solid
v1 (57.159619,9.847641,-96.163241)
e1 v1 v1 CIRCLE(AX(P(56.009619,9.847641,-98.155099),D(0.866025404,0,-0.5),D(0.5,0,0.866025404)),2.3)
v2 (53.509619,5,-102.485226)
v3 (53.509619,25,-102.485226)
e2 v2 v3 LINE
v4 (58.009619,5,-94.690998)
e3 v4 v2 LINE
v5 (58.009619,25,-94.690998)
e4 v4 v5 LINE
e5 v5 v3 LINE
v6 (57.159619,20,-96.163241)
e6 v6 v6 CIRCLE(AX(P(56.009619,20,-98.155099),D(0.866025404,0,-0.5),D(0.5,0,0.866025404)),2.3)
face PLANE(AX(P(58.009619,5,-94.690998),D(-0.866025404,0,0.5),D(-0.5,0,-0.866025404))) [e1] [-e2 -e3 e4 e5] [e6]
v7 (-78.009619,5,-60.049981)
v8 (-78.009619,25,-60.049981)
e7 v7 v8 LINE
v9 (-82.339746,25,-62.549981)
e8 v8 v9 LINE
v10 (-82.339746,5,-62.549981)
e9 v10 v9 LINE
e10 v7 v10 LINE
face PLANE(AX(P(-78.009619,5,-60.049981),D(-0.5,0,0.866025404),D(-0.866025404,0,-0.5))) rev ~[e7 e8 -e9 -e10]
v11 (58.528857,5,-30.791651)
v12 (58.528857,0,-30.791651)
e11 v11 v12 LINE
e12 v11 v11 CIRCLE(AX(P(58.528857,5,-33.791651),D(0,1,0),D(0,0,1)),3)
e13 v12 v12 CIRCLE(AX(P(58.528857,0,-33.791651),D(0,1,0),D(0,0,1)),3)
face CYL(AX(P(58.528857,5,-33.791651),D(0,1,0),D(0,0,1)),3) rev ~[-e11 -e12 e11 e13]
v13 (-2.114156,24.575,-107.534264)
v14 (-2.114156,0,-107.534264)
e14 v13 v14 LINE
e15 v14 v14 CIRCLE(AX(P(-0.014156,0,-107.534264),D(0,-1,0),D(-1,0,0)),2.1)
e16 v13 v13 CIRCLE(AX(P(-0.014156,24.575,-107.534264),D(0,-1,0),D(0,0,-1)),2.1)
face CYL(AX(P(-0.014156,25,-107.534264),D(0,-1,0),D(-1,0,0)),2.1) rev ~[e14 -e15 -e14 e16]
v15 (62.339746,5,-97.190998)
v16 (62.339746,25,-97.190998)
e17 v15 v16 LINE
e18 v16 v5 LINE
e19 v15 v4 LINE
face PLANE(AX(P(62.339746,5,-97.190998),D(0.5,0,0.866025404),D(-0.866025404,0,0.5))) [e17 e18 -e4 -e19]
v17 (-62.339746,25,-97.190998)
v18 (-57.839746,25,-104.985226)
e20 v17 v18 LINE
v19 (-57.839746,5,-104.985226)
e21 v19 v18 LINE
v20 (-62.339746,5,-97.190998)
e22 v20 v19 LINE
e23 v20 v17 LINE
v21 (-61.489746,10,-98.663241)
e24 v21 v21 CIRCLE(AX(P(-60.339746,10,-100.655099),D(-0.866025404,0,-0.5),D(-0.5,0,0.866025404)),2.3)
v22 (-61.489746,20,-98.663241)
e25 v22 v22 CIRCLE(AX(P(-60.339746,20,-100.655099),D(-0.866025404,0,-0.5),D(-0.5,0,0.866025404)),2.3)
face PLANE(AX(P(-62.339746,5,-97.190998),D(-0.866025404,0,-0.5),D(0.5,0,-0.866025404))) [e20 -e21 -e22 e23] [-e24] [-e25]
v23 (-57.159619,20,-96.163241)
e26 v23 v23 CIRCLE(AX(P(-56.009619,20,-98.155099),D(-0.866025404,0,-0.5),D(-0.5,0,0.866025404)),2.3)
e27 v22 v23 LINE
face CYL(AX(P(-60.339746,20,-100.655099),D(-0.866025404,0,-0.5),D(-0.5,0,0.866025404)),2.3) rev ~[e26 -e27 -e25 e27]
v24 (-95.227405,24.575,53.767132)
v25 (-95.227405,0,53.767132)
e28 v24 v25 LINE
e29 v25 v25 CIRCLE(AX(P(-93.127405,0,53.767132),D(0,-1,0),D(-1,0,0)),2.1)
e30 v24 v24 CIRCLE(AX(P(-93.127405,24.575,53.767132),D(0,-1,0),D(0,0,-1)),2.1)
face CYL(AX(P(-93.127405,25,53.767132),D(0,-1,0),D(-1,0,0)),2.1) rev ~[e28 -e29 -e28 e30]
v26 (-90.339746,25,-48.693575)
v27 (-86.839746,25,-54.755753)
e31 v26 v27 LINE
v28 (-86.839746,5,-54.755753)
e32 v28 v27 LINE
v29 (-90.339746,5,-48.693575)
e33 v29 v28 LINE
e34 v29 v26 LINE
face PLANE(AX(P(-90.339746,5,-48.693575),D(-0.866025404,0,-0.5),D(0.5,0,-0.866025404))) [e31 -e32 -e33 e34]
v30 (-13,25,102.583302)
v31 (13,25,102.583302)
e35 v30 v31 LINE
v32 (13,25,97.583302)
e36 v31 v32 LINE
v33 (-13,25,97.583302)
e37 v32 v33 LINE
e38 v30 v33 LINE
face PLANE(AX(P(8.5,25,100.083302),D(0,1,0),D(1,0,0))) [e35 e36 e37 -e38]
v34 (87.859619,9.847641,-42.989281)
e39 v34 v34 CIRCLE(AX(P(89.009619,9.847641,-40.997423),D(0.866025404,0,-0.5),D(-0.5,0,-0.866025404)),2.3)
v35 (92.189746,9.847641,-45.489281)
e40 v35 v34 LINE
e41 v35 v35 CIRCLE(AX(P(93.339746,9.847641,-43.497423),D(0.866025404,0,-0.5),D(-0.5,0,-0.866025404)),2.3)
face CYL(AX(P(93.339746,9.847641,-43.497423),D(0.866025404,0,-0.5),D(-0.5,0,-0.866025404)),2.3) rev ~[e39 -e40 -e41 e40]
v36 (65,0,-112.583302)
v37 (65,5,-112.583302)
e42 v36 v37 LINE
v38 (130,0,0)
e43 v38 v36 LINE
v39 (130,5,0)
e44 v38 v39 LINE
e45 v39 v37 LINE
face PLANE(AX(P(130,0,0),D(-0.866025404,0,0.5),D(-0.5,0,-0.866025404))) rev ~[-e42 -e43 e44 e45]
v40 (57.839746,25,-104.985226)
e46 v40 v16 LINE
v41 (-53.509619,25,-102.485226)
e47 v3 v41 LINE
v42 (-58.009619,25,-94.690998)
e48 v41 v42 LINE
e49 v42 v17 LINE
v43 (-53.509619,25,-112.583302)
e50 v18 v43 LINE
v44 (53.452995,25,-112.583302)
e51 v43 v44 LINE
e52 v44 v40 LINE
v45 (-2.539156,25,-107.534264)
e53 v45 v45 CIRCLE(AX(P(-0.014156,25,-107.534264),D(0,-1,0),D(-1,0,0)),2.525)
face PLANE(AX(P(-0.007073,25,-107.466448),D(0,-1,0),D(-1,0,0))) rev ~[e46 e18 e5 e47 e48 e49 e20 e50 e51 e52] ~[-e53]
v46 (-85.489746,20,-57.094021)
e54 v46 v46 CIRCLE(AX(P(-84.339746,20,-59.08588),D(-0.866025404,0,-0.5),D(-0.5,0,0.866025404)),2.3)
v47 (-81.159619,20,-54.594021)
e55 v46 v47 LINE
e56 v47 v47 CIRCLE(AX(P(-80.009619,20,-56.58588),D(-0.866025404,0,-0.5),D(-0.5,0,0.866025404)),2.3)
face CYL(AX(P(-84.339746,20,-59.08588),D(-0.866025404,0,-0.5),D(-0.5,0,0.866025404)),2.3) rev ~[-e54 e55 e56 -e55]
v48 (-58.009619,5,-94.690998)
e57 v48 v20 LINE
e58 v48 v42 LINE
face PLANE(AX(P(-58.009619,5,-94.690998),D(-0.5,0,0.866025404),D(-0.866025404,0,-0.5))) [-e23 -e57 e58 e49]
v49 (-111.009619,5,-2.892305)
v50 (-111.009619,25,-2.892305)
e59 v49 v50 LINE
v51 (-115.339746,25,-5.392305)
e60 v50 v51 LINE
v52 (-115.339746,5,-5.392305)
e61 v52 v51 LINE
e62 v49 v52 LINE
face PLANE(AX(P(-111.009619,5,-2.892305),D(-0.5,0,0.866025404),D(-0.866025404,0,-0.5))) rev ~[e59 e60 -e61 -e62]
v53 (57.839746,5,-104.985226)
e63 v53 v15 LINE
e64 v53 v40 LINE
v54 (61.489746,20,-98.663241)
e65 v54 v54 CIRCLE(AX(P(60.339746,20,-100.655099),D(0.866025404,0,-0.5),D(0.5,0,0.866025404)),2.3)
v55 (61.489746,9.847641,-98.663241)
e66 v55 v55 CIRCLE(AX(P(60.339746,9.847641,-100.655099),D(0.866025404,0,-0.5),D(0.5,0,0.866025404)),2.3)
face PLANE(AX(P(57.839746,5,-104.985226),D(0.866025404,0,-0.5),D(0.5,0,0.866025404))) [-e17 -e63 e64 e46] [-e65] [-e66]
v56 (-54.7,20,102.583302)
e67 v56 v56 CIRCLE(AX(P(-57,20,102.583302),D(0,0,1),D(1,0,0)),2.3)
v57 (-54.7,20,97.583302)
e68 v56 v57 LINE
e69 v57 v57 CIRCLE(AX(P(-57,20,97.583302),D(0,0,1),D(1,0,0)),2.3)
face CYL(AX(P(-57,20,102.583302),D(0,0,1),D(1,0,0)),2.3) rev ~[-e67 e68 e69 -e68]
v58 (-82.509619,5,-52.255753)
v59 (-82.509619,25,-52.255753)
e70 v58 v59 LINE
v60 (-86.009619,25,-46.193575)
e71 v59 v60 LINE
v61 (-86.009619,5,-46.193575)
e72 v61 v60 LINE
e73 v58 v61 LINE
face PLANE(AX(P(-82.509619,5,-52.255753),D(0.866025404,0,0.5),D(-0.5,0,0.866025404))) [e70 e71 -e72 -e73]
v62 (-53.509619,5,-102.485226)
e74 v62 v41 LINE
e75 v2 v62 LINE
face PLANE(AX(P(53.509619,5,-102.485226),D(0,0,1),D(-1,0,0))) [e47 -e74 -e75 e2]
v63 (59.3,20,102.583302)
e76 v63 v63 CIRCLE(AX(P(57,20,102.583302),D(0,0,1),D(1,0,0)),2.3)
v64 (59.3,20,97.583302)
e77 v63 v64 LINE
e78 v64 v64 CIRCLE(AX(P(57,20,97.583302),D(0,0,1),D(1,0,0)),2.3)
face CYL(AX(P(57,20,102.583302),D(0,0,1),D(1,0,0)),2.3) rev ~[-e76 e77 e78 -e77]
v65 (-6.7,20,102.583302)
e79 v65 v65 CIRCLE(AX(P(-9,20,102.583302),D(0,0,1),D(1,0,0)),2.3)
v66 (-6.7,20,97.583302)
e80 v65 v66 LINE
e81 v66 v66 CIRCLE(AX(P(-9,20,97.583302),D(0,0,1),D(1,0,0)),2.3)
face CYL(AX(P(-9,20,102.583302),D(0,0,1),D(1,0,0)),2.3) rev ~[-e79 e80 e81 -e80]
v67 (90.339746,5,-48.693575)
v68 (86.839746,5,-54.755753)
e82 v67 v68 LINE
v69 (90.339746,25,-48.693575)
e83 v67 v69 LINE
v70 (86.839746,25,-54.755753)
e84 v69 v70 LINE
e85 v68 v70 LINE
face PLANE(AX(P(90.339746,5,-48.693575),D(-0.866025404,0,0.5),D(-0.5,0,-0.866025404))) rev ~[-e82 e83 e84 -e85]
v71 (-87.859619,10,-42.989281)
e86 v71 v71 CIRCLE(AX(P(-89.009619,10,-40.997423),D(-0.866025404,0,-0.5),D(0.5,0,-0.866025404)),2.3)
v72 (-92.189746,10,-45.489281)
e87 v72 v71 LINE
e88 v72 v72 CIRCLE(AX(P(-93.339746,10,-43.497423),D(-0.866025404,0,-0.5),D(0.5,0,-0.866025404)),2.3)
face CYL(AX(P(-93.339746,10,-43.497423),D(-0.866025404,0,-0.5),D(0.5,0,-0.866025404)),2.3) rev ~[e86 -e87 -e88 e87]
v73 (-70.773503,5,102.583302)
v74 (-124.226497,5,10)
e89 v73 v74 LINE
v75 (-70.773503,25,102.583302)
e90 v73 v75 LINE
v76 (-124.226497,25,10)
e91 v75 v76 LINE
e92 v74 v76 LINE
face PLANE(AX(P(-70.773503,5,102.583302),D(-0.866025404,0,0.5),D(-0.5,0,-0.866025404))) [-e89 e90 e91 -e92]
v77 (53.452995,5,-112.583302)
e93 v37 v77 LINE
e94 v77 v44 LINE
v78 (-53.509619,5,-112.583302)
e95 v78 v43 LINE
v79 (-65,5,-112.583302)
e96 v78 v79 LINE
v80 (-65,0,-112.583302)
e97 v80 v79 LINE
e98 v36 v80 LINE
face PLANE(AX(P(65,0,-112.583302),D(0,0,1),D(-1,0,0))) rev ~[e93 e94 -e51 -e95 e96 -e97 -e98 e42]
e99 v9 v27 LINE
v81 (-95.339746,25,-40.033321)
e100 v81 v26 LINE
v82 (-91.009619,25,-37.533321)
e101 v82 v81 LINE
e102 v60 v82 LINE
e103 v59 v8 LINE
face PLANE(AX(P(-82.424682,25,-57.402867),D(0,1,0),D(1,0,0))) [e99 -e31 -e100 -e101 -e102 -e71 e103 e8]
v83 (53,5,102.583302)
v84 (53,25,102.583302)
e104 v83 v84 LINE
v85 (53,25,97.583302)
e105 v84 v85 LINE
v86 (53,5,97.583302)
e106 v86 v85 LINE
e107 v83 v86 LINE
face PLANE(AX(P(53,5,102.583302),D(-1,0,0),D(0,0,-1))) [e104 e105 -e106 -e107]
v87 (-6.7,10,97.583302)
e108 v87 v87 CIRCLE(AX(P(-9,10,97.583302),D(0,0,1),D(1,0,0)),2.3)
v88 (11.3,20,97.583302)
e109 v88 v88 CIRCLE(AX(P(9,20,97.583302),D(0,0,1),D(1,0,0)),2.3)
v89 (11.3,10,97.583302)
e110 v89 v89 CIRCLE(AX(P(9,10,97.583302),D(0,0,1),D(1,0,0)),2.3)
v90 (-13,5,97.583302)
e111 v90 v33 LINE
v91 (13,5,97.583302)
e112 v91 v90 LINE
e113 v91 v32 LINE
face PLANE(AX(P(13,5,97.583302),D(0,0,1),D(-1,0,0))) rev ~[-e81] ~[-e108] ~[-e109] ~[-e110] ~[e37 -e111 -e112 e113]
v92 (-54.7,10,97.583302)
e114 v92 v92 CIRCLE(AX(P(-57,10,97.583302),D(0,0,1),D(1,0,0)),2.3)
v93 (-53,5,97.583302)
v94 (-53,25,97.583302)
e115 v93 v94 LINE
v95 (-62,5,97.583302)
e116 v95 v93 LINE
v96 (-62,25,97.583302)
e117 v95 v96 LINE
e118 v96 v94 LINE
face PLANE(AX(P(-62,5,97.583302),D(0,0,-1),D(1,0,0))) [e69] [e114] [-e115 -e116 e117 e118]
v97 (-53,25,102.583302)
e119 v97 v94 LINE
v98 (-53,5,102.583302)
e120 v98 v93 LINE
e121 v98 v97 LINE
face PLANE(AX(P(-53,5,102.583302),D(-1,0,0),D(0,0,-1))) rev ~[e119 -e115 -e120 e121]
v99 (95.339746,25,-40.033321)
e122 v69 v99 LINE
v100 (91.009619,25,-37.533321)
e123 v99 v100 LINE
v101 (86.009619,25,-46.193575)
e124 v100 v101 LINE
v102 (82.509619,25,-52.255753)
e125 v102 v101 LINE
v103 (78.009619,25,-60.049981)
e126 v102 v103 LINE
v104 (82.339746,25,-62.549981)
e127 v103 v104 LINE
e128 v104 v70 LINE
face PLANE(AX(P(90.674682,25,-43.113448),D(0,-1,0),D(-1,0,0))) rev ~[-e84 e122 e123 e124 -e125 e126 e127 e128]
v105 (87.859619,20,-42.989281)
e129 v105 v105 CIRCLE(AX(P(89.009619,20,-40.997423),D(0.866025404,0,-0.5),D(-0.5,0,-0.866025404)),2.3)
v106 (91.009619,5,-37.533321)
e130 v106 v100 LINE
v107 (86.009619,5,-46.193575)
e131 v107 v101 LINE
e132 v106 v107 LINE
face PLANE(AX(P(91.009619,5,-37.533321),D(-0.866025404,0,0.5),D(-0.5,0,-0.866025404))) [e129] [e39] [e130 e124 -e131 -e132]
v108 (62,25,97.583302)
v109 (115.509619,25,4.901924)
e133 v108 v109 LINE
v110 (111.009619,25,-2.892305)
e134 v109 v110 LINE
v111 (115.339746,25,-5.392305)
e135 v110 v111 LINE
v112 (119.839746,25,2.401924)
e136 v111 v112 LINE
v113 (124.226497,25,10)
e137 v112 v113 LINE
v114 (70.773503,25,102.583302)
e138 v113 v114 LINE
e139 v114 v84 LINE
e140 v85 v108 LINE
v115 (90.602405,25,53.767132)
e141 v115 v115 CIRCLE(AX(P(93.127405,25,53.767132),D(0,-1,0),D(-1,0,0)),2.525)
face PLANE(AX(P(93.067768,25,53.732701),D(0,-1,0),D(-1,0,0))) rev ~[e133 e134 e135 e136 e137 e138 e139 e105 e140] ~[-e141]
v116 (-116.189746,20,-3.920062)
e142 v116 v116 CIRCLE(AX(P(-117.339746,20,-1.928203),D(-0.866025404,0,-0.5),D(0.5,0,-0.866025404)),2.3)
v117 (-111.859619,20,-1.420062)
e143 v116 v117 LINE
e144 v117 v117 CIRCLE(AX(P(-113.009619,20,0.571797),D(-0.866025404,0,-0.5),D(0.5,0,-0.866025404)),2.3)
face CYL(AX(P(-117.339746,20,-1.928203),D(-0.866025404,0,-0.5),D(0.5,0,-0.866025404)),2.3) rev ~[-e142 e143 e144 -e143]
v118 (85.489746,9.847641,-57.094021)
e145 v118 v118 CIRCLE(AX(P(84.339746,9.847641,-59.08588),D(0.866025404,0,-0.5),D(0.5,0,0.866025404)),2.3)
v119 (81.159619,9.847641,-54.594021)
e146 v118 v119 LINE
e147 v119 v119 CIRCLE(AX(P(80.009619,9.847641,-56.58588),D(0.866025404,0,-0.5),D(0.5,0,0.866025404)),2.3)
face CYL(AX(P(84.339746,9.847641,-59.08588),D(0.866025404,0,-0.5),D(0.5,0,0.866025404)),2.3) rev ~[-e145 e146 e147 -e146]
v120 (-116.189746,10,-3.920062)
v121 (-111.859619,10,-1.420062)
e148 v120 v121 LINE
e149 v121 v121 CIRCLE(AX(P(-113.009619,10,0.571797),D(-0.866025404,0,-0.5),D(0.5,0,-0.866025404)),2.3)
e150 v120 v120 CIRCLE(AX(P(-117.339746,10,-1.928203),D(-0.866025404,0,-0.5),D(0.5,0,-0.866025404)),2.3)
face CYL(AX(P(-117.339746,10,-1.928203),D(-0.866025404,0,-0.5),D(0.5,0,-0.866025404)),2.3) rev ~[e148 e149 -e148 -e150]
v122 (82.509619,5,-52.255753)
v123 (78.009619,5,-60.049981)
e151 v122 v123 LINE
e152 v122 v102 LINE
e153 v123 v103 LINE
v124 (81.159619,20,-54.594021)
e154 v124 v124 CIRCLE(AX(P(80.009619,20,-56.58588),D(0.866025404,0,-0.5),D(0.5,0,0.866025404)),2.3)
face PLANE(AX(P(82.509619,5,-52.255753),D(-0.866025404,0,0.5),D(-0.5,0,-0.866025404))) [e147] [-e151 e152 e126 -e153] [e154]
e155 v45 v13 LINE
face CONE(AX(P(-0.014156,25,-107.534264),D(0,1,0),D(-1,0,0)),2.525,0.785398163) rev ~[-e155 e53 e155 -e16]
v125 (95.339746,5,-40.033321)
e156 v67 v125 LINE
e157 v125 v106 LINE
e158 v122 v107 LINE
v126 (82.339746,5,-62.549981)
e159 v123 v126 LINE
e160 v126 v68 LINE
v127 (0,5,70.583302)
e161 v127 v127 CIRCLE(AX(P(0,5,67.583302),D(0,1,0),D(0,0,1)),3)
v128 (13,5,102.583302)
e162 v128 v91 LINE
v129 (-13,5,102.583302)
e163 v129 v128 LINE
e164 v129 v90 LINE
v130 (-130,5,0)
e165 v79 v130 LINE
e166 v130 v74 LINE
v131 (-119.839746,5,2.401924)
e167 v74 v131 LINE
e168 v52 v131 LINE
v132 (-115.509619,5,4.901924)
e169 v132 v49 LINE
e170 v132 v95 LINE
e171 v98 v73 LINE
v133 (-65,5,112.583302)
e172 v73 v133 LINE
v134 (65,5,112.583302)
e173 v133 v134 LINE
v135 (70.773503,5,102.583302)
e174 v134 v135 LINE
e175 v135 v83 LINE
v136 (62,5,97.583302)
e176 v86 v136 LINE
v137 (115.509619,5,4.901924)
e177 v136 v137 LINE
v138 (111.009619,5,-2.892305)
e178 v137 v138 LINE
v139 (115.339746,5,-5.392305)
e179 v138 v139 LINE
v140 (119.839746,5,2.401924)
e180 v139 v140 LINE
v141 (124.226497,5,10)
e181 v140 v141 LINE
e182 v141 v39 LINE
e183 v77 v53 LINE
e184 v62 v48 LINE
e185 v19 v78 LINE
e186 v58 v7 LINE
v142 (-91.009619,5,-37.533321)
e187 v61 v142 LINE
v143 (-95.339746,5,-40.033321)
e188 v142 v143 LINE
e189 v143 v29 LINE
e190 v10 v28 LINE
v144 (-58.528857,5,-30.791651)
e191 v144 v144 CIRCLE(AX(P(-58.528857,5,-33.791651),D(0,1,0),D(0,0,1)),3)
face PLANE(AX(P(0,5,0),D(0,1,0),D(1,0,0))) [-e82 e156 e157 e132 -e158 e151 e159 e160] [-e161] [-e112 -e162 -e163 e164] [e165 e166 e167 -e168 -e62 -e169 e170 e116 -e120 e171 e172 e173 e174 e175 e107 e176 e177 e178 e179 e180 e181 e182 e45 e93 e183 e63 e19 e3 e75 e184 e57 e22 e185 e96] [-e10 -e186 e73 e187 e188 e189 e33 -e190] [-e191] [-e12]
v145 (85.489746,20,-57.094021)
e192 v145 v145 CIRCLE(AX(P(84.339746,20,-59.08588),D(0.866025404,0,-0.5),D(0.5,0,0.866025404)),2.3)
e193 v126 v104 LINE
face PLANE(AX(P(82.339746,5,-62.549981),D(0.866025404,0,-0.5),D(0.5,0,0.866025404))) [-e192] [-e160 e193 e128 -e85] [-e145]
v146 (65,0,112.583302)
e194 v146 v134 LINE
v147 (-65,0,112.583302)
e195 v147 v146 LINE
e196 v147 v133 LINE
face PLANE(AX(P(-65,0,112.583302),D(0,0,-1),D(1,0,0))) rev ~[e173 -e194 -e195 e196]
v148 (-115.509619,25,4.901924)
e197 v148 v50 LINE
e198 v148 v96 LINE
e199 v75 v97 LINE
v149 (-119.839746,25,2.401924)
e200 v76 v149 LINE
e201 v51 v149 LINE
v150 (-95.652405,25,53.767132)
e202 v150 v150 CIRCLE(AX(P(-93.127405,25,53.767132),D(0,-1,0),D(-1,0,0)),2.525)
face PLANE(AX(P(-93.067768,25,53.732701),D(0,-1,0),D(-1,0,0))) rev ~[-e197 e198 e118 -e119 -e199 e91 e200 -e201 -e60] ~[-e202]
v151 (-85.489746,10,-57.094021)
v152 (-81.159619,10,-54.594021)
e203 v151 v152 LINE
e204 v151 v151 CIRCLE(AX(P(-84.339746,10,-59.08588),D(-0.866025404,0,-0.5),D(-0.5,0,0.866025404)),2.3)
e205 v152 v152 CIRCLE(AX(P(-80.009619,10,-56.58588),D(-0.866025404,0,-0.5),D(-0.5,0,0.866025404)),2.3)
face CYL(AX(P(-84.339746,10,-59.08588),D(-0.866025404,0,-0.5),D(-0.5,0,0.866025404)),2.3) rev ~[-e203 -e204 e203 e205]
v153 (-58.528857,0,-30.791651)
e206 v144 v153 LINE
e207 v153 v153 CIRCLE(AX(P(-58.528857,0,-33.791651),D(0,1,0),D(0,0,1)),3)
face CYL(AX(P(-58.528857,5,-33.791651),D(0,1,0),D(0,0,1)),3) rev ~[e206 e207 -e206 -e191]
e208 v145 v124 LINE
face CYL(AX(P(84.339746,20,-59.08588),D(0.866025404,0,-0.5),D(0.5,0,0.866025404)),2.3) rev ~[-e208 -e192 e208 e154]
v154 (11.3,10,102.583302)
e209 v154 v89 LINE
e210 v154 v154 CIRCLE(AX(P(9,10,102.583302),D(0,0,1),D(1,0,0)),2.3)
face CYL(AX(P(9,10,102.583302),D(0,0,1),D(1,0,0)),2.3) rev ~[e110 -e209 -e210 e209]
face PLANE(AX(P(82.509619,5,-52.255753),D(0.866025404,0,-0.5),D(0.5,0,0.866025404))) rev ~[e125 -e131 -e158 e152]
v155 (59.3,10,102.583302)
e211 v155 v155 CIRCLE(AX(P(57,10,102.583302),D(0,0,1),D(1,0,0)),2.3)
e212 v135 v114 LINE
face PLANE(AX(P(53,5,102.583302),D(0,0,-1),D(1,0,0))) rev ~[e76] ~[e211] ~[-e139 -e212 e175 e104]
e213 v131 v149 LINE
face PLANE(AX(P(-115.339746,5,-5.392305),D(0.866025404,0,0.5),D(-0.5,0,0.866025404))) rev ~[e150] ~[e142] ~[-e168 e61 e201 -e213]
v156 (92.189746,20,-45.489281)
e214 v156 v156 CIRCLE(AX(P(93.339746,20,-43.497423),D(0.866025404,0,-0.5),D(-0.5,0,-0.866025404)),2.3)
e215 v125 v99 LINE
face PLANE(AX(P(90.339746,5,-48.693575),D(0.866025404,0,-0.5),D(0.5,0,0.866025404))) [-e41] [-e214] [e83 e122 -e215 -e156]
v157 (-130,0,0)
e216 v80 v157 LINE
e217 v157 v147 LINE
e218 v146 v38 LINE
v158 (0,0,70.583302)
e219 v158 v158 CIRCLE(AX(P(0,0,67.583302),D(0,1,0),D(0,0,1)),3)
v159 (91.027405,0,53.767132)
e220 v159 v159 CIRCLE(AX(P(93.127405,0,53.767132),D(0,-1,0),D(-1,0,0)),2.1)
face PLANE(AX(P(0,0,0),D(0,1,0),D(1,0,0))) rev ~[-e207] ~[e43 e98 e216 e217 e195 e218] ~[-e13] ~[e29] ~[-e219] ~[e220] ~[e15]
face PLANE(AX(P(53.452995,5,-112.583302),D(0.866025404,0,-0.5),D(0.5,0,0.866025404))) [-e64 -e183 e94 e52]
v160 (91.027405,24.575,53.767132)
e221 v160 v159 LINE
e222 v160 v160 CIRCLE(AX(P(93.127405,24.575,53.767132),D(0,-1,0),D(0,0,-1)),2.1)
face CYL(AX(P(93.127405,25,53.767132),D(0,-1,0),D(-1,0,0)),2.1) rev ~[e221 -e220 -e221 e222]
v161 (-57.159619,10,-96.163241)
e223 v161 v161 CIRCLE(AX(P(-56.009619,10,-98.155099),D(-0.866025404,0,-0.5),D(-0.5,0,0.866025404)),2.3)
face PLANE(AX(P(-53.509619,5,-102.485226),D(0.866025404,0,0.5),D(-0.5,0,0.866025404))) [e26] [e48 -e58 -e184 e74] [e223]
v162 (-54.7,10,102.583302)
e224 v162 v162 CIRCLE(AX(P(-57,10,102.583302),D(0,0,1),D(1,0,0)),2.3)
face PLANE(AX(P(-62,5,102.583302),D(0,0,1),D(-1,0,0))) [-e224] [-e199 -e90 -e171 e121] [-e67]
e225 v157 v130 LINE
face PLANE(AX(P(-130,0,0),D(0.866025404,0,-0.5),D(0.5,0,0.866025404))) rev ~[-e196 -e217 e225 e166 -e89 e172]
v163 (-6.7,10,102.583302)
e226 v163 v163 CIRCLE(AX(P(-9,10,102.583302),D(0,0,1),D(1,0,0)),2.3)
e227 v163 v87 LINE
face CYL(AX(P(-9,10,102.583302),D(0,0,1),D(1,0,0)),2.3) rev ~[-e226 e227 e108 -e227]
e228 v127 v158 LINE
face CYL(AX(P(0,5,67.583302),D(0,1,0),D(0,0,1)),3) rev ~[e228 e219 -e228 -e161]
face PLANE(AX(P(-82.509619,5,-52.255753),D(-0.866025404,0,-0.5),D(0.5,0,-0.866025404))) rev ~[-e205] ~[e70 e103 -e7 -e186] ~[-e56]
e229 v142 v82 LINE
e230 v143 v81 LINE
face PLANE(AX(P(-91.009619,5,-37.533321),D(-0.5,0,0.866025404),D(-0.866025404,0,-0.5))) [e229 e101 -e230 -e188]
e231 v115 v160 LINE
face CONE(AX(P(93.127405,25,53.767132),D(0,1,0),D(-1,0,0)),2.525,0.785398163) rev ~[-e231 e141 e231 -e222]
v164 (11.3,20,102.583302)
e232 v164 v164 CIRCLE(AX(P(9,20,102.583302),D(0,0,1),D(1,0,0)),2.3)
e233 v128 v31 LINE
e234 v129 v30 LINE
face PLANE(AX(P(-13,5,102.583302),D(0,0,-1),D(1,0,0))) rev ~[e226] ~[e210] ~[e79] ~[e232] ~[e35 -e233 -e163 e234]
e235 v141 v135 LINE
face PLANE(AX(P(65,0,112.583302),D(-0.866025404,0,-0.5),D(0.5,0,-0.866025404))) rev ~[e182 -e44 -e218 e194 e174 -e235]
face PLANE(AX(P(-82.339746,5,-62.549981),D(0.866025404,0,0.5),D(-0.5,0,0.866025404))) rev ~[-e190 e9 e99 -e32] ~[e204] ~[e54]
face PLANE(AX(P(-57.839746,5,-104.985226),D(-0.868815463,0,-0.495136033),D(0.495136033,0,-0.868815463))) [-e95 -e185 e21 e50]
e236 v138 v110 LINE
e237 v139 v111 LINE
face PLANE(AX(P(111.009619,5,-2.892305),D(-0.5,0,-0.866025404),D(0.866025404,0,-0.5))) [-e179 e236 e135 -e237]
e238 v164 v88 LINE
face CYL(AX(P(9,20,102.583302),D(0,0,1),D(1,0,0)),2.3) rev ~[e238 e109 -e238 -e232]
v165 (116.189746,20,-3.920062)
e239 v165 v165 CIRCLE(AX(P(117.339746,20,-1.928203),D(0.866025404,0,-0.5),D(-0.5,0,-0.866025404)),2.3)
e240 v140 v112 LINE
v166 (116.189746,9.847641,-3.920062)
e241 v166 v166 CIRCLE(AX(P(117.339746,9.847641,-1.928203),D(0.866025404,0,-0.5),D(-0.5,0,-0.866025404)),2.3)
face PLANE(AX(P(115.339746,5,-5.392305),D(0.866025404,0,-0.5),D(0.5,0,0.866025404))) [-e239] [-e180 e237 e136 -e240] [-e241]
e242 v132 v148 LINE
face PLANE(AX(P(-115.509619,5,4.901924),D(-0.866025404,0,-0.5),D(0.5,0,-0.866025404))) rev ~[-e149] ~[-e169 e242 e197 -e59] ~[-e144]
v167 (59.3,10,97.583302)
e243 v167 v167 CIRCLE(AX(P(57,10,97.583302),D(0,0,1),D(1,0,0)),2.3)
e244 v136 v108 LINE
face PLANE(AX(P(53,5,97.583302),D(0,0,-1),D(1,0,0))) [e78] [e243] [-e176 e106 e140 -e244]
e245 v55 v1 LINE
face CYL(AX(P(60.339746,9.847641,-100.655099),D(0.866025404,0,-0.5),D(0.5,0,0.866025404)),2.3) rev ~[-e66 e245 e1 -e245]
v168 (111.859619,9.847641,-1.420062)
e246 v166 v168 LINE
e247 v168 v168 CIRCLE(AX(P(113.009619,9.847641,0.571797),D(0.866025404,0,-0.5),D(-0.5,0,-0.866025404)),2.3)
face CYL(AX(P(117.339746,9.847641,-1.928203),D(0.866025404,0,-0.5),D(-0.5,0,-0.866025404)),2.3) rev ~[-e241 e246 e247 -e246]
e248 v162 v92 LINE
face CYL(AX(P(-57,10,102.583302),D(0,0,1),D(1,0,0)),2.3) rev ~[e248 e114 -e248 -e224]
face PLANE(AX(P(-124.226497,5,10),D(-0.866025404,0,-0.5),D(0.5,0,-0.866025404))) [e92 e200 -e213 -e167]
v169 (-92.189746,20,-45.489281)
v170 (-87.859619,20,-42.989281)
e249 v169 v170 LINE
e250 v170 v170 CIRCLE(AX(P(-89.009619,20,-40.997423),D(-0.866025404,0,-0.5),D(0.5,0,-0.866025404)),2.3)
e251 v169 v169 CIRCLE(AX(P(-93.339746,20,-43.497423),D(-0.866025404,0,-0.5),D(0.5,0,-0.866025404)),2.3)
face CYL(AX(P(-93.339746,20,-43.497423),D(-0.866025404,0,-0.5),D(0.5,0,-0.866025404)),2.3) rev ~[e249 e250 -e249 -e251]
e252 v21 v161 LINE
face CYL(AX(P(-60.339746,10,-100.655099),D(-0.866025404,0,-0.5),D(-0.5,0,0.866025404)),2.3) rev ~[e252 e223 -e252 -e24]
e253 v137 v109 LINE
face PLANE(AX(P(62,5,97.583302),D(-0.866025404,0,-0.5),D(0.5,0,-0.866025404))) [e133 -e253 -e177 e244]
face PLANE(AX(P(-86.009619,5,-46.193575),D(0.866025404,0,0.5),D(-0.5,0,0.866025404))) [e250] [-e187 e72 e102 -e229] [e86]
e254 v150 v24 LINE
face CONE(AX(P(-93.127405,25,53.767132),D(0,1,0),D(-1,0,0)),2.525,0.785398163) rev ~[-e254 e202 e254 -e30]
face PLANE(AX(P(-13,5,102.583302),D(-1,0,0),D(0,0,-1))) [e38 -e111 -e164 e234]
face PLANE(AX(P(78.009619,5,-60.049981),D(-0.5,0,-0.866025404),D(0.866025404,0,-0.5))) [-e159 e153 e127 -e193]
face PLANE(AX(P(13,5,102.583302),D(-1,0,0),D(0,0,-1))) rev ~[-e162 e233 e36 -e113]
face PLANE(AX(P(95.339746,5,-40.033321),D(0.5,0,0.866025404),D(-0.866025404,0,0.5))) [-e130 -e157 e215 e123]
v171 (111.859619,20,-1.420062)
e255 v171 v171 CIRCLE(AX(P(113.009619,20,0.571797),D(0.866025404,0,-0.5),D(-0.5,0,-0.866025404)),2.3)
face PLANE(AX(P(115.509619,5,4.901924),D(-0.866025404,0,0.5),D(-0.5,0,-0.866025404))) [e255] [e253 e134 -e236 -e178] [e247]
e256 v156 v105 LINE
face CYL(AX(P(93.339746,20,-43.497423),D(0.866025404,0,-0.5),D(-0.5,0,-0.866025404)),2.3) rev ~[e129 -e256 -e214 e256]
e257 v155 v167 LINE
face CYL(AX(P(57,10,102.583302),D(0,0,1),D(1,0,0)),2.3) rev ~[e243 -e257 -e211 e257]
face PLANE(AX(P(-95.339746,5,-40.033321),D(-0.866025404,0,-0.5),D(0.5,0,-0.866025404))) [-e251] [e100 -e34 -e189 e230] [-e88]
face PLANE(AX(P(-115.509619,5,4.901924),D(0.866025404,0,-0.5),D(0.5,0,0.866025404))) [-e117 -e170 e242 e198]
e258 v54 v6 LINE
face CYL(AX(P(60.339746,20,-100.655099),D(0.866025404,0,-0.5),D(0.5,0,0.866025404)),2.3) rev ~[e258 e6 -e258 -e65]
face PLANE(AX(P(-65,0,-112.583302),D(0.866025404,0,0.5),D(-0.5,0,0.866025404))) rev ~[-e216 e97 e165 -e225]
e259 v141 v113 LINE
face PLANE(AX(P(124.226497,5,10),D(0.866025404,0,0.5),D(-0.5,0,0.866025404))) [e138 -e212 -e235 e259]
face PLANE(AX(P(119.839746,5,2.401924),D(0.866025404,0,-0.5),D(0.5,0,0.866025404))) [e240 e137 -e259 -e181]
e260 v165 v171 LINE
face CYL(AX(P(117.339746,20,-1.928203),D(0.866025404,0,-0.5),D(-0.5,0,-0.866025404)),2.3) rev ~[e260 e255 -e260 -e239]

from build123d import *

# Parameters (mm, degrees)
EXTRUDE_5_DEPTH              = 5
SKETCH_7_W                   = 9
SKETCH_7_H                   = 5
SKETCH_7_W_2                 = 8
EXTRUDE_6_DEPTH              = 20
EXTRUDE_7_DEPTH              = 20
SKETCH_13_R                  = 2.3
CUT_EXTRUDE_2_DEPTH          = 20
SKETCH_9_R                   = 2.3
CUT_EXTRUDE_3_DEPTH          = 20
SKETCH_11_R                  = 2.3
CUT_EXTRUDE_4_DEPTH          = 20
SKETCH_16_R                  = 3
CUT_EXTRUDE_5_DEPTH          = 5
HOLE_WIZARD_M5_1_D           = 4.2
HOLE_WIZARD_M5_1_CSINK_D     = 5.05
HOLE_WIZARD_M5_1_CSINK_ANGLE = 90


with BuildPart() as part:
    # 草图6 → 凸台-拉伸5 (new body)
    with BuildSketch(Plane(origin=(0, 0, 0), x_dir=(1, 0, 0), z_dir=(0, 1, 0))):
        Polygon((130, 0), (65, 112.583302492), (-65, 112.583302492), (-130, 0), (-65, -112.583302492), (65, -112.583302492), align=None)
    extrude(amount=EXTRUDE_5_DEPTH)

    # 草图7 → 凸台-拉伸6 (add)
    with BuildSketch(Plane(origin=(0, 5, 0), x_dir=(1, 0, 0), z_dir=(0, 1, 0))):
        with Locations((57.5, -100.083302492)):
            Rectangle(SKETCH_7_W, SKETCH_7_H)
        with Locations((8.5, -100.083302492)):
            Rectangle(SKETCH_7_W, SKETCH_7_H)
        with Locations((0, -100.083302492)):
            Rectangle(SKETCH_7_W_2, SKETCH_7_H)
        with Locations((-8.5, -100.083302492)):
            Rectangle(SKETCH_7_W, SKETCH_7_H)
        with Locations((-57.5, -100.083302492)):
            Rectangle(SKETCH_7_W, SKETCH_7_H)
        Polygon((115.339745962, 5.392304845), (119.839745962, -2.401923789), (115.509618943, -4.901923789), (111.009618943, 2.892304845), align=None)
        Polygon((95.339745962, 40.033320997), (91.009618943, 37.533320997), (86.009618943, 46.193575035), (90.339745962, 48.693575035), align=None)
        Polygon((86.839745962, 54.755752861), (82.509618943, 52.255752861), (86.009618943, 46.193575035), (90.339745962, 48.693575035), align=None)
        Polygon((82.339745962, 62.549981495), (86.839745962, 54.755752861), (82.509618943, 52.255752861), (78.009618943, 60.049981495), align=None)
        Polygon((62.339745962, 97.190997647), (58.009618943, 94.690997647), (53.509618943, 102.485226281), (57.839745962, 104.985226281), align=None)
        Polygon((-57.839745962, 104.985226281), (-53.509618943, 102.485226281), (-58.009618943, 94.690997647), (-62.339745962, 97.190997647), align=None)
        Polygon((-82.339745962, 62.549981495), (-86.839745962, 54.755752861), (-82.509618943, 52.255752861), (-78.009618943, 60.049981495), align=None)
        Polygon((-86.839745962, 54.755752861), (-82.509618943, 52.255752861), (-86.009618943, 46.193575035), (-90.339745962, 48.693575035), align=None)
        Polygon((-90.339745962, 48.693575035), (-86.009618943, 46.193575035), (-91.009618943, 37.533320997), (-95.339745962, 40.033320997), align=None)
        Polygon((-115.339745962, 5.392304845), (-119.839745962, -2.401923789), (-115.509618943, -4.901923789), (-111.009618943, 2.892304845), align=None)
    extrude(amount=EXTRUDE_6_DEPTH)

    # 草图10 → 凸台-拉伸7 (add)
    with BuildSketch(Plane(origin=(0, 5, 0), x_dir=(1, 0, 0), z_dir=(0, 1, 0))):
        Polygon((-115.509618943, -4.901923789), (-62, -97.583302492), (-62, -102.583302492), (-70.773502692, -102.583302492), (-124.226497308, -10), (-119.839745962, -2.401923789), align=None)
        Polygon((62, -97.583302492), (115.509618943, -4.901923789), (119.839745962, -2.401923789), (124.226497308, -10), (70.773502692, -102.583302492), (62, -102.583302492), align=None)
        Polygon((57.839745962, 104.985226281), (53.509618943, 102.485226281), (-53.509618943, 102.485226281), (-57.839745962, 104.985226281), (-53.509618943, 112.583302492), (53.452994616, 112.583302492), align=None)
    extrude(amount=EXTRUDE_7_DEPTH)

    # 草图13 → 切除-拉伸2 (cut)
    with BuildSketch(Plane(origin=(-88.839745962, 0, -51.291651246), x_dir=(-0.5000000000000006, 0, 0.8660254037844384), z_dir=(-0.8660254037844384, 0, -0.5000000000000006))):
        with Locations((-57, 20)):
            Circle(SKETCH_13_R)
        with Locations((-57, 10)):
            Circle(SKETCH_13_R)
        with Locations((-9, 20)):
            Circle(SKETCH_13_R)
        with Locations((-9, 10)):
            Circle(SKETCH_13_R)
        with Locations(Location((9, 10, 0), (0, 0, 180))):
            Circle(SKETCH_13_R)
        with Locations(Location((9, 20, 0), (0, 0, 180))):
            Circle(SKETCH_13_R)
        with Locations(Location((57, 10, 0), (0, 0, 180))):
            Circle(SKETCH_13_R)
        with Locations(Location((57, 20, 0), (0, 0, 180))):
            Circle(SKETCH_13_R)
    extrude(amount=-CUT_EXTRUDE_2_DEPTH, mode=Mode.SUBTRACT)

    # 草图9 → 切除-拉伸3 (cut)
    with BuildSketch(Plane.XY.offset(102.583302492)):
        with Locations((-57, 20)):
            Circle(SKETCH_9_R)
        with Locations((-57, 10)):
            Circle(SKETCH_9_R)
        with Locations((-9, 20)):
            Circle(SKETCH_9_R)
        with Locations((-9, 10)):
            Circle(SKETCH_9_R)
        with Locations((9, 20)):
            Circle(SKETCH_9_R)
        with Locations((9, 10)):
            Circle(SKETCH_9_R)
        with Locations((57, 20)):
            Circle(SKETCH_9_R)
        with Locations((57, 10)):
            Circle(SKETCH_9_R)
    extrude(amount=-CUT_EXTRUDE_3_DEPTH, mode=Mode.SUBTRACT)

    # 草图11 → 切除-拉伸4 (cut)
    with BuildSketch(Plane(origin=(88.839745962, 0, -51.291651246), x_dir=(-0.5000000000000029, 0, -0.866025403784437), z_dir=(0.8660254037844369, 0, -0.5000000000000028))):
        with Locations((-57, 20)):
            Circle(SKETCH_11_R)
        with Locations((-57, 9.847641324)):
            Circle(SKETCH_11_R)
        with Locations((-9, 20)):
            Circle(SKETCH_11_R)
        with Locations((-9, 9.847641324)):
            Circle(SKETCH_11_R)
        with Locations(Location((9, 9.847641324, 0), (0, 0, 180))):
            Circle(SKETCH_11_R)
        with Locations(Location((9, 20, 0), (0, 0, 180))):
            Circle(SKETCH_11_R)
        with Locations(Location((57, 9.847641324, 0), (0, 0, 180))):
            Circle(SKETCH_11_R)
        with Locations(Location((57, 20, 0), (0, 0, 180))):
            Circle(SKETCH_11_R)
    extrude(amount=-CUT_EXTRUDE_4_DEPTH, mode=Mode.SUBTRACT)

    # 草图16 → 切除-拉伸5 (cut)
    with BuildSketch(Plane(origin=(0, 5, 0), x_dir=(1, 0, 0), z_dir=(0, 1, 0))):
        with Locations(Location((0, -67.583302492, 0), (0, 0, 270))):
            Circle(SKETCH_16_R)
        with Locations(Location((58.52885683, 33.791651246, 0), (0, 0, 270))):
            Circle(SKETCH_16_R)
        with Locations(Location((-58.52885683, 33.791651246, 0), (0, 0, 270))):
            Circle(SKETCH_16_R)
    extrude(amount=-CUT_EXTRUDE_5_DEPTH, mode=Mode.SUBTRACT)

    # M5 螺纹孔1 (through all)
    with Locations(Plane(origin=(0, 25, 0), x_dir=(1, 0, 0), z_dir=(0, 1, 0))):
        with Locations((93.127404736, -53.767132193), (-93.127404736, -53.767132193), (-0.014156082, 107.534264386)):
            CounterSinkHole(HOLE_WIZARD_M5_1_D / 2, HOLE_WIZARD_M5_1_CSINK_D / 2, counter_sink_angle=HOLE_WIZARD_M5_1_CSINK_ANGLE)


solid = part.part
